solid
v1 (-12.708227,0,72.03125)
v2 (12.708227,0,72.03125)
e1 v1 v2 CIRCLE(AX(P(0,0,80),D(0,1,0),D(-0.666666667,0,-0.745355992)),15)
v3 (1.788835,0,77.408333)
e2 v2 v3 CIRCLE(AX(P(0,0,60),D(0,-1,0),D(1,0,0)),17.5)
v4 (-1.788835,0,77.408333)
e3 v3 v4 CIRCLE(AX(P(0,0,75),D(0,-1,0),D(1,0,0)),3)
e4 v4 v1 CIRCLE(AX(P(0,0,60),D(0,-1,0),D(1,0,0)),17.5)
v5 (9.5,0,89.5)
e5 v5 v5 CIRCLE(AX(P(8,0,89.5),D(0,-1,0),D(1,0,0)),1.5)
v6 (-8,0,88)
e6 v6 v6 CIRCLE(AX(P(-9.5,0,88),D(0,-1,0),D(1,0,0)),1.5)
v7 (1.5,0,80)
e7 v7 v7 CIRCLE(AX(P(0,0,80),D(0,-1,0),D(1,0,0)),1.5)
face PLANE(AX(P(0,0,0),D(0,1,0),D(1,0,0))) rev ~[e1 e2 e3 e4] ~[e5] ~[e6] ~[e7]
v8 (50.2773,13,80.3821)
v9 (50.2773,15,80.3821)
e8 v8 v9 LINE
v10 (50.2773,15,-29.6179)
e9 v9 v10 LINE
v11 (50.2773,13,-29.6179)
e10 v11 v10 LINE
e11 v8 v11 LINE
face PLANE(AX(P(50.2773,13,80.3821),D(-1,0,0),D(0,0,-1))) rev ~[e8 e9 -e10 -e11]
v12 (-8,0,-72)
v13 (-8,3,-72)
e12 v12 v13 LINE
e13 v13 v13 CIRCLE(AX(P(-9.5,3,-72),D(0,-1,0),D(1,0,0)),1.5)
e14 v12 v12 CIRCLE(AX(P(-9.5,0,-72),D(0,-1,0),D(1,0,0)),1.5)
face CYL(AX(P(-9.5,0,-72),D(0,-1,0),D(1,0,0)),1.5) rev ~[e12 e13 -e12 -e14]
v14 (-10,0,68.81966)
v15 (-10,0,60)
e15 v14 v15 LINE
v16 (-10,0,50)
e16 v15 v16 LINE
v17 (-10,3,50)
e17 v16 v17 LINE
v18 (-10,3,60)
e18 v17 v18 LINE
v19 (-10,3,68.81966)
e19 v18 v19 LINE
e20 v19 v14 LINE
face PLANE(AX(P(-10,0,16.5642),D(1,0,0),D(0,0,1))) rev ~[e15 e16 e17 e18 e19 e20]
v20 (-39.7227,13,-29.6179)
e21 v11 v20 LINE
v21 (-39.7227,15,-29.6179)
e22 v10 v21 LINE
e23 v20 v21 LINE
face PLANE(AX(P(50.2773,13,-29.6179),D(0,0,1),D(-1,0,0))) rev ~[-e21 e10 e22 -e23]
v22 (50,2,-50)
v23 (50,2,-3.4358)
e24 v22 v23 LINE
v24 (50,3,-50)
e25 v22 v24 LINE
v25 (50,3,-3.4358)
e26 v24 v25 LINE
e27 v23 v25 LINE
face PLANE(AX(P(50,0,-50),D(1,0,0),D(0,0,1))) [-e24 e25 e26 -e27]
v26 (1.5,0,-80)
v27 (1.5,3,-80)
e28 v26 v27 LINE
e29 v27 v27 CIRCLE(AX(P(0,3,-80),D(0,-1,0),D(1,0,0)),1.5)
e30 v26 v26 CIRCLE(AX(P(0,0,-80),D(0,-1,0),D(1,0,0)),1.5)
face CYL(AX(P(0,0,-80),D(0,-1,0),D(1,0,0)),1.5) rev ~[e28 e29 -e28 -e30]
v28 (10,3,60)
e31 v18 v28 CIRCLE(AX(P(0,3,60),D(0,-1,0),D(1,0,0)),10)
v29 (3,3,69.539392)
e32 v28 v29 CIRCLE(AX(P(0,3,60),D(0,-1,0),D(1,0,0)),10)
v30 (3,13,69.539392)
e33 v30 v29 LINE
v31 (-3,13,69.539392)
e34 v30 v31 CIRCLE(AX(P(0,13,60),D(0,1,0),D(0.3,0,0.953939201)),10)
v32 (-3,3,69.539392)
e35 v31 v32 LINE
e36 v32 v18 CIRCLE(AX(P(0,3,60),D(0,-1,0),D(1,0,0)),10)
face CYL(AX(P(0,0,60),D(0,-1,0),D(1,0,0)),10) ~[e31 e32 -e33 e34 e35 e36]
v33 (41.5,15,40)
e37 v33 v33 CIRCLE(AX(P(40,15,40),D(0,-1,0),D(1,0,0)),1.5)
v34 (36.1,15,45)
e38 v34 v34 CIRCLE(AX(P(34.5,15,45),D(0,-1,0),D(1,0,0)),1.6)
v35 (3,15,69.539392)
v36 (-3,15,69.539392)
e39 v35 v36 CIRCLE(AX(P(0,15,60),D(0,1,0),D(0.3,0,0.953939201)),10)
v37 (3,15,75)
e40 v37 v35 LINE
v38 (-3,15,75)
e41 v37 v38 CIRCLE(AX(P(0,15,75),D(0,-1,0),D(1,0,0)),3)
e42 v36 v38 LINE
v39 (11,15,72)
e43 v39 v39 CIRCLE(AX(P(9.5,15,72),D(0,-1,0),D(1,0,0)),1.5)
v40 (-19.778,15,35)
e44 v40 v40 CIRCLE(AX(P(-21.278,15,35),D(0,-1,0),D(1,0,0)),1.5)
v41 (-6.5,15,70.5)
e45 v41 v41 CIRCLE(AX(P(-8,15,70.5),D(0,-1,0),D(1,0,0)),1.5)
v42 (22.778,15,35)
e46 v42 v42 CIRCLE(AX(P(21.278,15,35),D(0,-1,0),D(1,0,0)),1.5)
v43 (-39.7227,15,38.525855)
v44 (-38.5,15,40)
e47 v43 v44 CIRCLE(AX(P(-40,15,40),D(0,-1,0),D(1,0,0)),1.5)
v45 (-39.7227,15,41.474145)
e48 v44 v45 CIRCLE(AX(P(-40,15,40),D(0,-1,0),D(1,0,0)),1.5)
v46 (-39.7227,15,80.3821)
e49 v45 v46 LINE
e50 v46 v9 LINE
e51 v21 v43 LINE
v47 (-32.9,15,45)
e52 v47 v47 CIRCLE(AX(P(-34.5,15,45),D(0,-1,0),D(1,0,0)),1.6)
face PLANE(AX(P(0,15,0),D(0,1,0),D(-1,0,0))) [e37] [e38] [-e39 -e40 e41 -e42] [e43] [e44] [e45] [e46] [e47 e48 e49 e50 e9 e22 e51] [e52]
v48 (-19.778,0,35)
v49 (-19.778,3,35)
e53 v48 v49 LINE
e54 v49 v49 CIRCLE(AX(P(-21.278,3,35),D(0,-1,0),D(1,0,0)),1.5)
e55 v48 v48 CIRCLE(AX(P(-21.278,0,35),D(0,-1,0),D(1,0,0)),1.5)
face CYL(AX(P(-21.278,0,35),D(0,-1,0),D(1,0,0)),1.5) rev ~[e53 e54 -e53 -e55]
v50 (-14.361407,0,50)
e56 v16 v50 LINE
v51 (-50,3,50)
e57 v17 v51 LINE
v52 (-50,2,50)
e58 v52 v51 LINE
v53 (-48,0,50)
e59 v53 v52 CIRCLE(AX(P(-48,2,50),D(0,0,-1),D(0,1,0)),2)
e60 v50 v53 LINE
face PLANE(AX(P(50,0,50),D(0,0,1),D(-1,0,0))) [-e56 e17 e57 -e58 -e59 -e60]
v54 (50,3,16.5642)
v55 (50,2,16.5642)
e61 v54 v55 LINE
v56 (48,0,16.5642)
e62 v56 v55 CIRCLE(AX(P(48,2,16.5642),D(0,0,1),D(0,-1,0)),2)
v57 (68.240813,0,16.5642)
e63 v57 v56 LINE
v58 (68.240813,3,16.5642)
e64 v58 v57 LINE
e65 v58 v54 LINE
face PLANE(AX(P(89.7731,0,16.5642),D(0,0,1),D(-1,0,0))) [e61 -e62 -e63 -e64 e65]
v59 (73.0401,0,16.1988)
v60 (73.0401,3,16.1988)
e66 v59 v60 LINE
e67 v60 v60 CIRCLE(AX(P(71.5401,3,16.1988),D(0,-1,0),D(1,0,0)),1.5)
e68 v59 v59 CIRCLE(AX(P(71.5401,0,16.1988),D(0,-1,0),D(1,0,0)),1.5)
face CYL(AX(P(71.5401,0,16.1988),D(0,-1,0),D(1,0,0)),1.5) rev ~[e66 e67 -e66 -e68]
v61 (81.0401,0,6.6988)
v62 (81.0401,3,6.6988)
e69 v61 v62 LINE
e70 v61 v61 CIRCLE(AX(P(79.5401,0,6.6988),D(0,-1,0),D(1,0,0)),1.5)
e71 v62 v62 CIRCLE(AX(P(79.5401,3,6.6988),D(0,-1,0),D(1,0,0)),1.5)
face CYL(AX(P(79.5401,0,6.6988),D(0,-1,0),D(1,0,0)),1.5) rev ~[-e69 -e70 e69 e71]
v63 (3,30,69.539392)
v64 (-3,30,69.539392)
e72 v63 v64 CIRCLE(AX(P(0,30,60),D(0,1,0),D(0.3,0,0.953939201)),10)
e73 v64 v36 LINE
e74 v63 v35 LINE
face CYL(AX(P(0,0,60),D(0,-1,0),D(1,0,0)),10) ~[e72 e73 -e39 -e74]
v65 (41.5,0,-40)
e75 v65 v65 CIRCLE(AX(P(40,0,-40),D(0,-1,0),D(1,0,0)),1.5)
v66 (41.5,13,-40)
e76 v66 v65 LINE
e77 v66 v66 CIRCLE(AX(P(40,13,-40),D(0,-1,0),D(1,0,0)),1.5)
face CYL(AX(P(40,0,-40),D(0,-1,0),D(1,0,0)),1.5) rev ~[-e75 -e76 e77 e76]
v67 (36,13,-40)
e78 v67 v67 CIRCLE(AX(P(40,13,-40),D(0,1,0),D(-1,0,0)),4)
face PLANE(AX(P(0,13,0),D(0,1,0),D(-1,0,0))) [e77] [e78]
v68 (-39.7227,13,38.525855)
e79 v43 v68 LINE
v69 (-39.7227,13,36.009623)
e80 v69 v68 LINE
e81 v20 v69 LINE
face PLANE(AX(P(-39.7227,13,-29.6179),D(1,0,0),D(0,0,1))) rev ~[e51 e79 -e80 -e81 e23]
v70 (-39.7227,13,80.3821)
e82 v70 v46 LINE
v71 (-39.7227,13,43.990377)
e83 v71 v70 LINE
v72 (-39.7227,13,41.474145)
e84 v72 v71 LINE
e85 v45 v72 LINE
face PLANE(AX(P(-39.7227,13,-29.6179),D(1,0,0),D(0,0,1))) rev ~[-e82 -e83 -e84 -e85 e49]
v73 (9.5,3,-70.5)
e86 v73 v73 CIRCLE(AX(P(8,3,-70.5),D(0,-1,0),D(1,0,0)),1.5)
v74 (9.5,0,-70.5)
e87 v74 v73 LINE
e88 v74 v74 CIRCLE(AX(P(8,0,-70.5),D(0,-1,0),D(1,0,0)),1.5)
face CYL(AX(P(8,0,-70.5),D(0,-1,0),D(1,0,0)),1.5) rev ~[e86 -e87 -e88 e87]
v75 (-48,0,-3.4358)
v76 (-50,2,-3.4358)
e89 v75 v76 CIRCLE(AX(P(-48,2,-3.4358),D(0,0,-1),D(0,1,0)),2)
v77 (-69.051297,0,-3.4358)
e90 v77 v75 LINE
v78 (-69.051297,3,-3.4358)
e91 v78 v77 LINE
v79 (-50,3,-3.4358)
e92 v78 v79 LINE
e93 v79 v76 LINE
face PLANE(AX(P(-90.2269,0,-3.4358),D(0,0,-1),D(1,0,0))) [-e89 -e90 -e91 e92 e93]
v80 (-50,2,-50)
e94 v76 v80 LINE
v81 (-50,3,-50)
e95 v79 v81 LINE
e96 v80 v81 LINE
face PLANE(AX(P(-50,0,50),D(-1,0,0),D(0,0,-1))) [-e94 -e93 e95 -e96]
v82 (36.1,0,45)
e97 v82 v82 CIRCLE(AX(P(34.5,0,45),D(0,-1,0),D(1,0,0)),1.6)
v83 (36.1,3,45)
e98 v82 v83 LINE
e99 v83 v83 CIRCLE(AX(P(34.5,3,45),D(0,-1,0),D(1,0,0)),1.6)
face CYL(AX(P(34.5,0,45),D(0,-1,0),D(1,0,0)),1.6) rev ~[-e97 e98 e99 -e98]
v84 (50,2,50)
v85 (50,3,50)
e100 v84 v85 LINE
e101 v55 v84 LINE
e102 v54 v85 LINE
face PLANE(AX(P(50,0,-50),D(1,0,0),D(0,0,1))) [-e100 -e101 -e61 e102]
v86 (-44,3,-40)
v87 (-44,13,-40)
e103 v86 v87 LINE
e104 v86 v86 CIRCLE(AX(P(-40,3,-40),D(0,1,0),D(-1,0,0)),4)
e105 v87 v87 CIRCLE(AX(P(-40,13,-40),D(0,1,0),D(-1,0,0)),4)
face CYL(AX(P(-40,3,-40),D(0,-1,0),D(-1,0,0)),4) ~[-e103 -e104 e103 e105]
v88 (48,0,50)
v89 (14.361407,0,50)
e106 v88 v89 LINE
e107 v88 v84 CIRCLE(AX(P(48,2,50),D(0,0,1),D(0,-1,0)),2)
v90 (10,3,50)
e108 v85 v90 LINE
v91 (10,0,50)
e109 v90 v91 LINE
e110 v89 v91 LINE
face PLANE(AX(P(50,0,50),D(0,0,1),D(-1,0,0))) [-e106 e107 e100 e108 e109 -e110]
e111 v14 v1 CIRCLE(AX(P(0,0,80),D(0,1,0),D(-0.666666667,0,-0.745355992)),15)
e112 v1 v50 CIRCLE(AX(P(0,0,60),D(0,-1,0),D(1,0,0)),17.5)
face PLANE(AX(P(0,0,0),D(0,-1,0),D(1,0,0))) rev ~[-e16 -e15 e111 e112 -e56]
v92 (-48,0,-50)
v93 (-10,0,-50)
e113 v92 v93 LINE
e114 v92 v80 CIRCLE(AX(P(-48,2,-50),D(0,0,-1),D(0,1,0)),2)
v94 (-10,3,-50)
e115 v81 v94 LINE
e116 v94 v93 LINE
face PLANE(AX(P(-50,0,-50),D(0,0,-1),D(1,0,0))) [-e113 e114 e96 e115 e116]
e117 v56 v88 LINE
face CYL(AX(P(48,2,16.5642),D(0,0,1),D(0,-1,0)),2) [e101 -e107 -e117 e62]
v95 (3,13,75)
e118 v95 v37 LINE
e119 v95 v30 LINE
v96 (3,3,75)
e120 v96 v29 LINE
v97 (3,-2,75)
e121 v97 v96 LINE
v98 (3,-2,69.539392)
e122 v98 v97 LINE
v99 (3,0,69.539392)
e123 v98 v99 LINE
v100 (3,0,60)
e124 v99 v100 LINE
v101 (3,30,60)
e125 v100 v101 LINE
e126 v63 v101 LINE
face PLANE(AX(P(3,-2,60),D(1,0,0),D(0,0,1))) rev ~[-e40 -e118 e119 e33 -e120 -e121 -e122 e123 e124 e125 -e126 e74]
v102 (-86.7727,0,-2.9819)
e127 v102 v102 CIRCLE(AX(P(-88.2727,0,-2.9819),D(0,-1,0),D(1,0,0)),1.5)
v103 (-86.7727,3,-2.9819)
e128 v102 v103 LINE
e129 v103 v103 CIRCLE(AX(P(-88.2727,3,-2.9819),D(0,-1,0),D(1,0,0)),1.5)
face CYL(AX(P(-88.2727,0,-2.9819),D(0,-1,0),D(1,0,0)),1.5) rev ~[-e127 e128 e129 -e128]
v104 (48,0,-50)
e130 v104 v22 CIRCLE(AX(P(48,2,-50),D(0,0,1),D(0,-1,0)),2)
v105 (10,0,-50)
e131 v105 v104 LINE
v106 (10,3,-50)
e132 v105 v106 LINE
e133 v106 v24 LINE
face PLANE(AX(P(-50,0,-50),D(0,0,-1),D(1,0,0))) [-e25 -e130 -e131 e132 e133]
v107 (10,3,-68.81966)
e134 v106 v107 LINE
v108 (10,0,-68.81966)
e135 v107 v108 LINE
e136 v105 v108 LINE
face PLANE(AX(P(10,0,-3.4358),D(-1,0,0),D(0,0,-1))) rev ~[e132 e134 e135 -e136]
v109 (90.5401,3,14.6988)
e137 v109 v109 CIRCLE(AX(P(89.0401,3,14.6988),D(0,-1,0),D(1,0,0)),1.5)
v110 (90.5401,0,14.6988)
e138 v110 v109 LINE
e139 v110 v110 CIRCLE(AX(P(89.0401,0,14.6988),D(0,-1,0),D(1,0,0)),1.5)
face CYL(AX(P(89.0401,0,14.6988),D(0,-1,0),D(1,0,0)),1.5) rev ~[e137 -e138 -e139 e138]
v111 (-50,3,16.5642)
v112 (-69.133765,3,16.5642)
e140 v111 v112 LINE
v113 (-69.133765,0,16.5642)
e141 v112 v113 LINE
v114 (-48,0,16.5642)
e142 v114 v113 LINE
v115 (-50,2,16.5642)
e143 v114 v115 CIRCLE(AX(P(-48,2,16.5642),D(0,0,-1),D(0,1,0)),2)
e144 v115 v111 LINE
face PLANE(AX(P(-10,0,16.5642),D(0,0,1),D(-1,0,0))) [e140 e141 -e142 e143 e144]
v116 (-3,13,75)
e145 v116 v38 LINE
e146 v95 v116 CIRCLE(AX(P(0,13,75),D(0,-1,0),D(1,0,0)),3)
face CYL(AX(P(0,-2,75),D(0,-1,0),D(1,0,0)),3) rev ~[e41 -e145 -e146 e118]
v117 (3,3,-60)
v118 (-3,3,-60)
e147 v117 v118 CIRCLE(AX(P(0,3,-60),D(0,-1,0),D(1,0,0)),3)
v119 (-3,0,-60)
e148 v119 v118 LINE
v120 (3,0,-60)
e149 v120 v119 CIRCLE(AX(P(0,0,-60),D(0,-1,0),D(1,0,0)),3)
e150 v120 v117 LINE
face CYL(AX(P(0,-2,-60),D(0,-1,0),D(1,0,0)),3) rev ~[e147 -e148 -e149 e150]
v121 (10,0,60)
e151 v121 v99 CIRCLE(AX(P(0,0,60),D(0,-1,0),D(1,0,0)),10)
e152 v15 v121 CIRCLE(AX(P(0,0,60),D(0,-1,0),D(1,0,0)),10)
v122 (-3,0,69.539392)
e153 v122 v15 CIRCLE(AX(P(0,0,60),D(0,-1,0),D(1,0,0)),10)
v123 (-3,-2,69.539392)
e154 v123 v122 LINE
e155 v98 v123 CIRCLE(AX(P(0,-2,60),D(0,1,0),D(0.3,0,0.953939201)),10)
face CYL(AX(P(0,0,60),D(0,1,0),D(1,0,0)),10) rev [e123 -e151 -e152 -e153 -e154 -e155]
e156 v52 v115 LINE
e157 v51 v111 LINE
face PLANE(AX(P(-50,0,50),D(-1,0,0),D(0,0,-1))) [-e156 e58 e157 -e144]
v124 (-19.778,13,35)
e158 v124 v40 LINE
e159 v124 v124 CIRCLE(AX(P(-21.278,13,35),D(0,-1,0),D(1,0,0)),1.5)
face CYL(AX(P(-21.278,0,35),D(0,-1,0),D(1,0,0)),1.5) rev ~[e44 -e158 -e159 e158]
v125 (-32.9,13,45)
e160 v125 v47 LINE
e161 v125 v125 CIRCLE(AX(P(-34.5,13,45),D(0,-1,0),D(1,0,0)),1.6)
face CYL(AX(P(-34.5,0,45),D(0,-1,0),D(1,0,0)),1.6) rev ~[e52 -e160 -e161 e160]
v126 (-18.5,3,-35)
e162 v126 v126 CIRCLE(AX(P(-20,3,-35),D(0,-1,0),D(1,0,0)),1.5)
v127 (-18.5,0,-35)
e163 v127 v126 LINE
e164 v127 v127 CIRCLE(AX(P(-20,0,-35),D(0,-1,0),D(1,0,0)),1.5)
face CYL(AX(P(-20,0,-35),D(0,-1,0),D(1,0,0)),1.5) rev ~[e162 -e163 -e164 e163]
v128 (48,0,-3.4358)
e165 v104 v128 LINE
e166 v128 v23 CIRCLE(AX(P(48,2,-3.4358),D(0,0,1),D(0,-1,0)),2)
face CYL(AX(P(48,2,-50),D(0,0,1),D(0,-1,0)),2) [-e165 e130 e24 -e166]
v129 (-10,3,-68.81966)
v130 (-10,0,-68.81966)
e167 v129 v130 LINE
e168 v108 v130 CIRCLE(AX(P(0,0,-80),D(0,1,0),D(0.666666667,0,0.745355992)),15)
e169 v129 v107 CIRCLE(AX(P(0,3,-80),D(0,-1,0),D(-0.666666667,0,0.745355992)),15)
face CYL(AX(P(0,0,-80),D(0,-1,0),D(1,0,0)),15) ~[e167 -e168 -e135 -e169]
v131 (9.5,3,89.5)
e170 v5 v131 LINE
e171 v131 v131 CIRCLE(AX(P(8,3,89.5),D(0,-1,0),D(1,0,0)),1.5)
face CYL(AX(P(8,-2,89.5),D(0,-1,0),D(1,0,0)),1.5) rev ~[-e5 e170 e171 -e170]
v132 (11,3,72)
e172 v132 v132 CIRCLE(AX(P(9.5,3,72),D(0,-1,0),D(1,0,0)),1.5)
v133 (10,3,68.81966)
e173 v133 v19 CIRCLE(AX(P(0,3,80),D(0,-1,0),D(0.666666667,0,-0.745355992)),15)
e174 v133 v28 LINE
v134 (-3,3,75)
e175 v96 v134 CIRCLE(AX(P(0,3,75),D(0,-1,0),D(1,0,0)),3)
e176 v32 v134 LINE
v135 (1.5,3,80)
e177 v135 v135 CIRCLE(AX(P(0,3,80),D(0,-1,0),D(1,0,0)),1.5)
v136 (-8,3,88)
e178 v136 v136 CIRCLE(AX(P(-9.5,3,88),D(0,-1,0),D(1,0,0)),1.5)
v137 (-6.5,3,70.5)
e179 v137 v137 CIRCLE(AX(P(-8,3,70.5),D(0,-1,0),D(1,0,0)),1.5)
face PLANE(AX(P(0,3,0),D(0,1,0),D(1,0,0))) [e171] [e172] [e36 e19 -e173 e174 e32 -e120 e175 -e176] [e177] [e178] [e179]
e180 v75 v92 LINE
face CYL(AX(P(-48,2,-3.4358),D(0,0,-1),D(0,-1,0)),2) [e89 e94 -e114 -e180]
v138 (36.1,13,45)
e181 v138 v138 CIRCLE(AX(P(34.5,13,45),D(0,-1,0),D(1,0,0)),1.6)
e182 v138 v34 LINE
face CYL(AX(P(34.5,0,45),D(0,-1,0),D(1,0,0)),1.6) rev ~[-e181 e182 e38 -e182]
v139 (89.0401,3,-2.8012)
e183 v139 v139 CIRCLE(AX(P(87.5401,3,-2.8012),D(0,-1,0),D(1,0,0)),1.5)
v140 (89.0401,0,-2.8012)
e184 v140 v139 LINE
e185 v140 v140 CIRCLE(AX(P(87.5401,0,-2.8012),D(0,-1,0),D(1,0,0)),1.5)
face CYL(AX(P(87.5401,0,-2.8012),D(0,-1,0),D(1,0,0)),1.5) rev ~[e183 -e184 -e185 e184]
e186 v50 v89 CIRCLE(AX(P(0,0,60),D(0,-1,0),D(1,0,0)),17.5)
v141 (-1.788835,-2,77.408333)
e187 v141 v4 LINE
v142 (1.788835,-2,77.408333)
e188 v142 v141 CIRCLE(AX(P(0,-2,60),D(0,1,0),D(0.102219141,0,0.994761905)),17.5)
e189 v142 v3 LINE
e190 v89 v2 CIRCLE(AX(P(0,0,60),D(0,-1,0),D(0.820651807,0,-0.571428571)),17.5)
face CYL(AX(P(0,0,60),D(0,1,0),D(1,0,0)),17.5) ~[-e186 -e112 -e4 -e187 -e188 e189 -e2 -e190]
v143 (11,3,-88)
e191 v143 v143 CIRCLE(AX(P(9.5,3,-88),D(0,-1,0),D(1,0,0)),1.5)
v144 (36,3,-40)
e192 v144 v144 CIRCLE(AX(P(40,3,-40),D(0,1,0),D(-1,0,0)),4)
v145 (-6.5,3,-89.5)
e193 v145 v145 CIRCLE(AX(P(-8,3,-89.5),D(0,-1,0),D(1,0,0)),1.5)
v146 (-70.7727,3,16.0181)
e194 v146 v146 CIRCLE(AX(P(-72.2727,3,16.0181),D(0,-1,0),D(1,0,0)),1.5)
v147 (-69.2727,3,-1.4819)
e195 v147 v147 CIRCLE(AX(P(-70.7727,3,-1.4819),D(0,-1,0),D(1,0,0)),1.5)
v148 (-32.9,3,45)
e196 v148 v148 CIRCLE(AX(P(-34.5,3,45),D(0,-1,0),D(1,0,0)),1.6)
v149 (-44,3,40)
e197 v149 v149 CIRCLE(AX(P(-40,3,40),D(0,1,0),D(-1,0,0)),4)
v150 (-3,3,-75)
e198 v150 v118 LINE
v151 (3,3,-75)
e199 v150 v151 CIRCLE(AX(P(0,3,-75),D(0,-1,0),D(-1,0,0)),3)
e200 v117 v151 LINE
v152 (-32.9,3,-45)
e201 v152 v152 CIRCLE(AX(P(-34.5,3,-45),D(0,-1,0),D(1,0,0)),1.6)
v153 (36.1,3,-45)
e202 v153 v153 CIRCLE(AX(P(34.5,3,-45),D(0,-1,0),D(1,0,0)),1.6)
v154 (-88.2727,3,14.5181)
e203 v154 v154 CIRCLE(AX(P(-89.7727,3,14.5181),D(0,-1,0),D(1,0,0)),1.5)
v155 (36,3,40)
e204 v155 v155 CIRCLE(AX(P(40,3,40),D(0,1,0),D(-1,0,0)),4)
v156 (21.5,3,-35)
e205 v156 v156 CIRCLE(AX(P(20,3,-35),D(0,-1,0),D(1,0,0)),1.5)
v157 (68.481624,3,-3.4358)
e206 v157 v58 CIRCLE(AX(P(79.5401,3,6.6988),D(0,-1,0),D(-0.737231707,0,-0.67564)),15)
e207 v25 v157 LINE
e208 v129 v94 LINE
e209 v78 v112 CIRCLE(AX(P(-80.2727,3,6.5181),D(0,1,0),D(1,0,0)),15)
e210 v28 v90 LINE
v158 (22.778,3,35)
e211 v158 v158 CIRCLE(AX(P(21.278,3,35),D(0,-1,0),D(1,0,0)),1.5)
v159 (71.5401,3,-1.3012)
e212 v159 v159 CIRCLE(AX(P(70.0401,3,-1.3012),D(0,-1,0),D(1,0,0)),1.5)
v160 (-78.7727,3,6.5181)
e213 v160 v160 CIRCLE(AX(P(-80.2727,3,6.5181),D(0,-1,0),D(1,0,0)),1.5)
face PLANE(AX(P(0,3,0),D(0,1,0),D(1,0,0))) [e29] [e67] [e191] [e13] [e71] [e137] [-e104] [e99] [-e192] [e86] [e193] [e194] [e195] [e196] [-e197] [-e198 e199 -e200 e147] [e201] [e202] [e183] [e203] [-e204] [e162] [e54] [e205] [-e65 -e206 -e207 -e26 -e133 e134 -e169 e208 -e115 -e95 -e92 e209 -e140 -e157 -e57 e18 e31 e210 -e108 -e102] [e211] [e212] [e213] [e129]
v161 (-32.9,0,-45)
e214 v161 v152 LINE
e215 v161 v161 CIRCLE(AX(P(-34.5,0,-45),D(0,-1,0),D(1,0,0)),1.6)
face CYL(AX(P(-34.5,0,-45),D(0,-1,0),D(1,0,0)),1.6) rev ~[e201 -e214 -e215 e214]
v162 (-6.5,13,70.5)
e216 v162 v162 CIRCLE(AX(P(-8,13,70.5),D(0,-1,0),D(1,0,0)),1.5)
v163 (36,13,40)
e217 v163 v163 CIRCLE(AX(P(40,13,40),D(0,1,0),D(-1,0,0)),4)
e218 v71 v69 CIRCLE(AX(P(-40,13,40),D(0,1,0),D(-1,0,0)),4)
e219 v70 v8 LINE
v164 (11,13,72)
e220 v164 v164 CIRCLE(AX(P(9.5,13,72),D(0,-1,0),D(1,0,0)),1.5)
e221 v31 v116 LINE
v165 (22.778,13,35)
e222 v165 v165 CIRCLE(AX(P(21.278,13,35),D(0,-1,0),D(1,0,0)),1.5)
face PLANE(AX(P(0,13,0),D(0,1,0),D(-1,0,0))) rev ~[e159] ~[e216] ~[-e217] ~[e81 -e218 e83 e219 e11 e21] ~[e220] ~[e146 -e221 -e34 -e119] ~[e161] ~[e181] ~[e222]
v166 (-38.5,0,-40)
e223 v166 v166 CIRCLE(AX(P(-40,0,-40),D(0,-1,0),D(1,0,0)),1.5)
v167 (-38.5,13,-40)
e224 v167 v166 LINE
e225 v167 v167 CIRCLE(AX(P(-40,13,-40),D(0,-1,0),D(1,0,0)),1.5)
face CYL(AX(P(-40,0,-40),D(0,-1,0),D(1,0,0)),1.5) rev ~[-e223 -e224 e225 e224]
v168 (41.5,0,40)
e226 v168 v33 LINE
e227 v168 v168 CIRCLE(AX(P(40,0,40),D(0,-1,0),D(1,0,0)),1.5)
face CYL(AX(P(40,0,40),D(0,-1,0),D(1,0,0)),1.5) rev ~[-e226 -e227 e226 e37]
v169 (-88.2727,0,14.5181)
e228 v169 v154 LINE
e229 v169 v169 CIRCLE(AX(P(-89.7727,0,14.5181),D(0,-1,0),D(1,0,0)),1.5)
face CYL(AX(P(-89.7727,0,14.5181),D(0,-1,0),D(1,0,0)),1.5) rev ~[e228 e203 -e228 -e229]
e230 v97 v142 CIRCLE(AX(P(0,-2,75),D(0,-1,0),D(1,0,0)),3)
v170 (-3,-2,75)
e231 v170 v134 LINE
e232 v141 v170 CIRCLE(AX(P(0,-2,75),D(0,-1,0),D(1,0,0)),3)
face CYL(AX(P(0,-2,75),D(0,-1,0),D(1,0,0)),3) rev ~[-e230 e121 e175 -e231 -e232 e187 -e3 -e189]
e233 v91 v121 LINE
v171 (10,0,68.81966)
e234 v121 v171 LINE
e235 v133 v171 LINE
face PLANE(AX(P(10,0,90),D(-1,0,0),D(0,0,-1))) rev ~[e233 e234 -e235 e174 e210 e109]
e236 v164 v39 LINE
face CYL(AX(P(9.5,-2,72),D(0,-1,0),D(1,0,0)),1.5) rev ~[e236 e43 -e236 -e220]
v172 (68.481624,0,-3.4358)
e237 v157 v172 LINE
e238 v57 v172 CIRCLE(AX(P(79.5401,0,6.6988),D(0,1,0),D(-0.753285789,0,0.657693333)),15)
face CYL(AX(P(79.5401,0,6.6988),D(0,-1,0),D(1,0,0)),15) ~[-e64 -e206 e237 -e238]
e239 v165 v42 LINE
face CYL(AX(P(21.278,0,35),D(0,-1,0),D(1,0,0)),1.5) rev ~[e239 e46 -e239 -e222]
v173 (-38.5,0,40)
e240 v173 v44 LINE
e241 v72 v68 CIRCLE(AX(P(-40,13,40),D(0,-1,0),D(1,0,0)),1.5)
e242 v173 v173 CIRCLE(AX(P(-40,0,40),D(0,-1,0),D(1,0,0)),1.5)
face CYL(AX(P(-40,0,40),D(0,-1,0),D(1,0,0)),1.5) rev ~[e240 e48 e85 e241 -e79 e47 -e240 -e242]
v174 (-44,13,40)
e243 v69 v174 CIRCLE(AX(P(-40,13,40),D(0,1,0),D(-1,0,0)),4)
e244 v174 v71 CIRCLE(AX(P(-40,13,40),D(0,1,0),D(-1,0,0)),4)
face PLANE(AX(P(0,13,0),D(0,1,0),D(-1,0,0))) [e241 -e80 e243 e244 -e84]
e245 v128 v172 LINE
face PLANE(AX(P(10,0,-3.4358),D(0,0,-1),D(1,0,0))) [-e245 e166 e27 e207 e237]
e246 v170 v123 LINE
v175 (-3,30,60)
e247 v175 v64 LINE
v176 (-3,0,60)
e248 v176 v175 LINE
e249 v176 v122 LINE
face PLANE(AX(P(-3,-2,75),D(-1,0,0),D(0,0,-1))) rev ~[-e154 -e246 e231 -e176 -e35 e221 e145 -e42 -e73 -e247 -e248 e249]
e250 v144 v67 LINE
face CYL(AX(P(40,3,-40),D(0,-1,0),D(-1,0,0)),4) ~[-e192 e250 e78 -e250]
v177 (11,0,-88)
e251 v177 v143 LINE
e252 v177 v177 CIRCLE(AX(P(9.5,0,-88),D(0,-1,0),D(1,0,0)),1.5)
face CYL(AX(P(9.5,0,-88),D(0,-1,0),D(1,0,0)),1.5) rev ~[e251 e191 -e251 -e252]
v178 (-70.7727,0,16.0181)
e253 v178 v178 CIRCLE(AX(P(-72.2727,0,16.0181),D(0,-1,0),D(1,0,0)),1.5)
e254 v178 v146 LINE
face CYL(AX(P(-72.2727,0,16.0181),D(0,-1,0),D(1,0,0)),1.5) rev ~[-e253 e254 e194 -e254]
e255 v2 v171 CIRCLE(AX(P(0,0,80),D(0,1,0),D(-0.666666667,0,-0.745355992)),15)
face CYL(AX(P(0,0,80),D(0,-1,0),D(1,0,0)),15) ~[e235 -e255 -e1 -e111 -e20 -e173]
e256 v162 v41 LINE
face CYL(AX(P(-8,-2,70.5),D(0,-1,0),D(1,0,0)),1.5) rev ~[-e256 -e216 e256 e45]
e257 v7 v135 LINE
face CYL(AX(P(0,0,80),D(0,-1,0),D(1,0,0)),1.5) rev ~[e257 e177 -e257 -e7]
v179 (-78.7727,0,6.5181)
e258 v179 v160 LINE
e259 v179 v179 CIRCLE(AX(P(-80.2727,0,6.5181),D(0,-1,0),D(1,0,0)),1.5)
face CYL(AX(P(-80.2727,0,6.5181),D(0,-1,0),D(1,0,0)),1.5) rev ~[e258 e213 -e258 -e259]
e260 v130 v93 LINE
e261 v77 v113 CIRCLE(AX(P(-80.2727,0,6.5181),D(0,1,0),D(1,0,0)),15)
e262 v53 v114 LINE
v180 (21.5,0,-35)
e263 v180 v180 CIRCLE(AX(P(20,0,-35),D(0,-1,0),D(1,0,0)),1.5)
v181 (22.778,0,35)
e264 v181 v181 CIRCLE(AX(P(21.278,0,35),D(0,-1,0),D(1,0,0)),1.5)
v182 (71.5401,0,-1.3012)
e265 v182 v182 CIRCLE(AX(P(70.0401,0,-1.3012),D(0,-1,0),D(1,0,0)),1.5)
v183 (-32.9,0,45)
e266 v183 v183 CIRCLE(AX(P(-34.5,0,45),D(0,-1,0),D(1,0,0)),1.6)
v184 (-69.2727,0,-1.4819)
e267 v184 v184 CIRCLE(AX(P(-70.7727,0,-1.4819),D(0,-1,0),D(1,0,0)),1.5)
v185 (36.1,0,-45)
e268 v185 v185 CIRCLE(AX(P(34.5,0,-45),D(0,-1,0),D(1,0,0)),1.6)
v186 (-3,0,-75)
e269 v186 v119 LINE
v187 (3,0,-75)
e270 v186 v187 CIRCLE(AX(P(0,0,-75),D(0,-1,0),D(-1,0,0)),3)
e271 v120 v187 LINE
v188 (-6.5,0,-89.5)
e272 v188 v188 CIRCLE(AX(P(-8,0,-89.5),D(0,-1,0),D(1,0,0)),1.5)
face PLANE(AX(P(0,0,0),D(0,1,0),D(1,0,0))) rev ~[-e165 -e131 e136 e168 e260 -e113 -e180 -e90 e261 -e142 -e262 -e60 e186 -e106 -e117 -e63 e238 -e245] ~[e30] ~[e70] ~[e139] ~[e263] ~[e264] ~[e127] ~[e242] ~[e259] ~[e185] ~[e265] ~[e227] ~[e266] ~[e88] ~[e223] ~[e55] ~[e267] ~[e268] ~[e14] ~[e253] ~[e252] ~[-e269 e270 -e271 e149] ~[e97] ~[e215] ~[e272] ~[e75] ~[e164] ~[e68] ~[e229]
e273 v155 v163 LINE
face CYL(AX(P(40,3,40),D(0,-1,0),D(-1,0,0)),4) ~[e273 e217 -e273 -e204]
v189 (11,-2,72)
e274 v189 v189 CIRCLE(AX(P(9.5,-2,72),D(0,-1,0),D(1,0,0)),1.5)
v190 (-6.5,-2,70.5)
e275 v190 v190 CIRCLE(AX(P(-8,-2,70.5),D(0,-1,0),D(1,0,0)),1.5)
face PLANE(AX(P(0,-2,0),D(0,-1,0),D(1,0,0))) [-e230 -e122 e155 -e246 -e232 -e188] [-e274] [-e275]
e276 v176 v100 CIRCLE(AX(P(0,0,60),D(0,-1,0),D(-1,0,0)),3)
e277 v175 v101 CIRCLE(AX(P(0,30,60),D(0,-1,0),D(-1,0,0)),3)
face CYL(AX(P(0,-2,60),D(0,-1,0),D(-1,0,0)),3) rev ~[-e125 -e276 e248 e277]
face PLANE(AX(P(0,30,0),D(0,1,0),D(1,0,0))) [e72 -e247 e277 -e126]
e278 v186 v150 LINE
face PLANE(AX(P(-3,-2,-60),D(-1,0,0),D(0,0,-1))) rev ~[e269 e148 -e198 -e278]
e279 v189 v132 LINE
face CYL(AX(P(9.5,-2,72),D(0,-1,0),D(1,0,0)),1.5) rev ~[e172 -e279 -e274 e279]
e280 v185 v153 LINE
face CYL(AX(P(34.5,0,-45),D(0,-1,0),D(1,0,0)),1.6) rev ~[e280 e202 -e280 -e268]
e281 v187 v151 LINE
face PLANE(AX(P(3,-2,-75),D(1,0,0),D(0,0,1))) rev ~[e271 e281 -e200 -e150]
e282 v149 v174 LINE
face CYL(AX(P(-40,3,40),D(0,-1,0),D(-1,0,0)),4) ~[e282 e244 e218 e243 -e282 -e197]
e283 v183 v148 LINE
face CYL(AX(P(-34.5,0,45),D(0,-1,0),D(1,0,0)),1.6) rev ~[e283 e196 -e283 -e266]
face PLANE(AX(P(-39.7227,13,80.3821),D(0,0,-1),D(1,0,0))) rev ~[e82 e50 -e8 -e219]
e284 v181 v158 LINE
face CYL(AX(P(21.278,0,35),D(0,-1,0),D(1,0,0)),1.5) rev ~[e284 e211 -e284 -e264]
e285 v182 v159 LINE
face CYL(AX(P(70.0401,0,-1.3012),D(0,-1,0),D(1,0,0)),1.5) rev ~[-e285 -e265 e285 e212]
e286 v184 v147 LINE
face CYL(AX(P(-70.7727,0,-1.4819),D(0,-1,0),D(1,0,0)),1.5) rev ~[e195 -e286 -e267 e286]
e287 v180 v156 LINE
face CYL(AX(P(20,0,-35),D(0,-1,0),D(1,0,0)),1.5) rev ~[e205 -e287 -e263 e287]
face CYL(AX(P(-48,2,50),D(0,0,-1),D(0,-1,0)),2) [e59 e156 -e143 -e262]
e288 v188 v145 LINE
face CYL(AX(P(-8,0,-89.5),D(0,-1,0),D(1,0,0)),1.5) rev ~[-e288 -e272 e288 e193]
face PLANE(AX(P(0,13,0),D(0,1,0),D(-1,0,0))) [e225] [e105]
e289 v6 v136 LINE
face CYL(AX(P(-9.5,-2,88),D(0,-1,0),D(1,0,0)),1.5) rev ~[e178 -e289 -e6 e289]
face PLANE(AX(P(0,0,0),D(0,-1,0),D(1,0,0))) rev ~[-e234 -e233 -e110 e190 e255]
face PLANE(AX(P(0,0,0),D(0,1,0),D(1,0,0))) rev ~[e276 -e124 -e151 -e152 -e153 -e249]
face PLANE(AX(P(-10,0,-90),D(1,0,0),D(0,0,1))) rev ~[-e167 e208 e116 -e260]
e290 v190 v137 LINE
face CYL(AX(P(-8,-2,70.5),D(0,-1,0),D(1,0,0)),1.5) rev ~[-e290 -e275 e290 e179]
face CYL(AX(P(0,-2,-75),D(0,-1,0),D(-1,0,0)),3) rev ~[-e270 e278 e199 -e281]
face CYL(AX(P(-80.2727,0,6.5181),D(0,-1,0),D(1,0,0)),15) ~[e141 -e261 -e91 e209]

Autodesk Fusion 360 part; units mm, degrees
sketch "Sketch1" plane through (0, 0, 0) normal (0, 1, 0) x (1, 0, 0)
  line L0 (50, -50) -> (-50, -50)
  line L1 (-50, -50) -> (-50, 50)
  line L2 (-50, 50) -> (50, 50)
  line L3 (50, 50) -> (50, -50)
  line L4 (50, -50) -> (-50, 50) construction
  line L5 (-50, -50) -> (50, 50) construction
  dimension "d1" = 100
  dimension "d2" = 100
extrude "Extrude1" add sketch "Sketch1" along normal blind 3
sketch "Sketch2" plane through (0, 0, 0) normal (0, 1, 0) x (1, 0, 0)
  line L0 (89.7731, -16.5642) -> (-90.2269, -16.5642)
  line L1 (-90.2269, -16.5642) -> (-90.2269, 3.4358)
  line L2 (-90.2269, 3.4358) -> (89.7731, 3.4358)
  line L3 (89.7731, 3.4358) -> (89.7731, -16.5642)
  line L4 (89.7731, -16.5642) -> (-90.2269, 3.4358) construction
  line L5 (-90.2269, -16.5642) -> (89.7731, 3.4358) construction
  line L6 (-10, -90) -> (10, -90)
  line L7 (10, -90) -> (10, 90)
  line L8 (10, 90) -> (-10, 90)
  line L9 (-10, 90) -> (-10, -90)
  line L10 (-10, -90) -> (10, 90) construction
  line L11 (10, -90) -> (-10, 90) construction
  point P0 (-0.2269, -6.5642)
  dimension "d9" = 180
  dimension "d10" = 20
  dimension "d11" = 20
  dimension "d12" = 180
extrude "Extrude2" add sketch "Sketch2" along normal blind 3
sketch "Sketch3" plane through (0, 0, 0) normal (0, -1, 0) x (1, 0, 0)
  line L0 (-10, 50) -> (-50, 50)
  line L1 (-50, 50) -> (-50, 16.5642)
  line L2 (-50, 16.5642) -> (-90.2269, 16.5642)
  line L3 (-90.2269, 16.5642) -> (-90.2269, -3.4358)
  line L4 (-90.2269, -3.4358) -> (-50, -3.4358)
  line L5 (-50, -3.4358) -> (-50, -50)
  line L6 (-50, -50) -> (-10, -50)
  line L7 (-10, -50) -> (-10, -90)
  line L8 (-10, -90) -> (10, -90)
  line L9 (10, -90) -> (10, -50)
  line L10 (10, -50) -> (50, -50)
  line L11 (50, -50) -> (50, -3.4358)
  line L12 (50, -3.4358) -> (89.7731, -3.4358)
  line L13 (89.7731, -3.4358) -> (89.7731, 16.5642)
  line L14 (89.7731, 16.5642) -> (50, 16.5642)
  line L15 (50, 16.5642) -> (50, 50)
  line L16 (50, 50) -> (10, 50)
  line L17 (10, 50) -> (10, 90)
  line L18 (10, 90) -> (-10, 90)
  line L19 (-10, 90) -> (-10, 50)
  circle A0 centre (79.7731, 6.5642) radius 1.5
  circle A1 centre (-80.2269, 6.5642) radius 1.5
  circle A2 centre (0, 80) radius 1.5
  circle A3 centre (0, -80) radius 1.5
  dimension "d15" = 3
  dimension "d16" = 10
  dimension "d17" = 10
  dimension "d18" = 3
  dimension "d19" = 10
  dimension "d20" = 10
  dimension "d21" = 3
  dimension "d22" = 10
  dimension "d23" = 10
  dimension "d24" = 3
  dimension "d25" = 10
  dimension "d26" = 10
extrude "Extrude3" cut sketch "Sketch3" against normal through all contours A0 | A1 | A2 | A3
sketch "Sketch4" plane through (0, 0, 0) normal (0, 1, 0) x (1, 0, 0)
  circle A0 centre (79.5401, -6.6988) radius 15
  dimension "d28" = 30
sketch "Sketch5" plane through (0, 0, 0) normal (0, 1, 0) x (1, 0, 0)
extrude "Extrude4" add sketch "Sketch4" along normal blind 3
sketch "Sketch6" plane through (0, 0, 0) normal (0, 1, 0) x (1, 0, 0)
  circle A0 centre (0, -80) radius 15
  dimension "d31" = 30
extrude "Extrude5" add sketch "Sketch6" along normal blind 3
sketch "Sketch7" plane through (0, 0, 0) normal (0, 1, 0) x (1, 0, 0)
  circle A0 centre (-80.2727, -6.5181) radius 15
  dimension "d34" = 30
extrude "Extrude6" add sketch "Sketch7" along normal blind 3
sketch "Sketch8" plane through (0, 0, 0) normal (0, 1, 0) x (1, 0, 0)
  circle A0 centre (0, 80) radius 15
  dimension "d37" = 30
extrude "Extrude7" add sketch "Sketch8" along normal blind 3
sketch "Sketch9" plane through (0, 0, 0) normal (0, -1, 0) x (1, 0, 0)
  arc A0 (-10, -68.8197) -> (10, -68.8197) centre (0, -80) ccw
  line L0 (10, -68.8197) -> (10, -50)
  line L1 (10, -50) -> (50, -50)
  line L2 (50, -50) -> (50, -3.4358)
  line L3 (50, -3.4358) -> (68.4816, -3.4358)
  arc A1 (68.4816, -3.4358) -> (68.2409, 16.5642) centre (79.5401, 6.6988) ccw
  line L4 (68.2409, 16.5642) -> (50, 16.5642)
  line L5 (50, 16.5642) -> (50, 50)
  line L6 (50, 50) -> (10, 50)
  line L7 (10, 50) -> (10, 68.8197)
  arc A2 (10, 68.8197) -> (-10, 68.8197) centre (0, 80) ccw
  line L8 (-10, 68.8197) -> (-10, 50)
  line L9 (-10, 50) -> (-50, 50)
  line L10 (-50, 50) -> (-50, 16.5642)
  line L11 (-50, 16.5642) -> (-69.1338, 16.5642)
  arc A3 (-69.1338, 16.5642) -> (-69.0513, -3.4358) centre (-80.2727, 6.5181) ccw
  line L12 (-69.0513, -3.4358) -> (-50, -3.4358)
  line L13 (-50, -3.4358) -> (-50, -50)
  line L14 (-50, -50) -> (-10, -50)
  line L15 (-10, -50) -> (-10, -68.8197)
  circle A4 centre (79.5401, 6.6988) radius 1.5
  circle A5 centre (-80.2727, 6.5181) radius 1.5
  circle A6 centre (0, -80) radius 1.5
  circle A7 centre (0, 80) radius 1.5
  dimension "d40" = 3
  dimension "d41" = 3
  dimension "d42" = 3
  dimension "d43" = 3
extrude "Extrude8" cut sketch "Sketch9" against normal through all contours A4 | A5 | A6 | A7
sketch "Sketch10" plane through (0, 0, 50) normal (0, 0, 1) x (-1, 0, 0)
  line L0 (-10, -3) -> (-10, 0)
  line L1 (-10, 0) -> (-50, 0)
  line L2 (-50, 0) -> (-50, -3)
  line L3 (-50, -3) -> (-10, -3)
sketch "Sketch11" plane through (0, 0, 0) normal (0, -1, 0) x (1, 0, 0)
  circle A0 centre (-80.2727, 6.5181) radius 1.5
  circle A1 centre (79.5401, 6.6988) radius 1.5
  circle A2 centre (0, 80) radius 1.5
  circle A3 centre (0, -80) radius 1.5
  arc A4 (-10, -68.8197) -> (10, -68.8197) centre (0, -80) ccw
  line L0 (10, -68.8197) -> (10, -50)
  line L1 (10, -50) -> (50, -50)
  line L2 (50, -50) -> (50, -3.4358)
  line L3 (50, -3.4358) -> (68.4816, -3.4358)
  arc A5 (68.4816, -3.4358) -> (68.2409, 16.5642) centre (79.5401, 6.6988) ccw
  line L4 (68.2409, 16.5642) -> (50, 16.5642)
  line L5 (50, 16.5642) -> (50, 50)
  line L6 (50, 50) -> (10, 50)
  line L7 (10, 50) -> (10, 68.8197)
  arc A6 (10, 68.8197) -> (-10, 68.8197) centre (0, 80) ccw
  line L8 (-10, 68.8197) -> (-10, 50)
  line L9 (-10, 50) -> (-50, 50)
  line L10 (-50, 50) -> (-50, 16.5642)
  line L11 (-50, 16.5642) -> (-69.1338, 16.5642)
  arc A7 (-69.1338, 16.5642) -> (-69.0513, -3.4358) centre (-80.2727, 6.5181) ccw
  line L12 (-69.0513, -3.4358) -> (-50, -3.4358)
  line L13 (-50, -3.4358) -> (-50, -50)
  line L14 (-50, -50) -> (-10, -50)
  line L15 (-10, -50) -> (-10, -68.8197)
  circle A8 centre (40, 40) radius 1.5
  circle A9 centre (-40, 40) radius 1.5
  circle A10 centre (40, -40) radius 1.5
  circle A11 centre (-40, -40) radius 1.5
  dimension "d45" = 3
  dimension "d46" = 10
  dimension "d47" = 10
  dimension "d48" = 3
  dimension "d49" = 10
  dimension "d50" = 10
  dimension "d51" = 3
  dimension "d52" = 10
  dimension "d53" = 10
  dimension "d54" = 3
  dimension "d55" = 10
extrude "Extrude9" cut sketch "Sketch11" against normal through all contours A8 | A9 | A10 | A11
sketch "Sketch12" plane through (0, 3, 0) normal (0, 1, 0) x (-1, 0, 0)
  line L0 (10, -68.8197) -> (10, -50)
  line L1 (10, -50) -> (50, -50)
  line L2 (50, -50) -> (50, -3.4358)
  line L3 (50, -3.4358) -> (69.0513, -3.4358)
  arc A0 (69.0513, -3.4358) -> (69.1338, 16.5642) centre (80.2727, 6.5181) ccw
  line L4 (69.1338, 16.5642) -> (50, 16.5642)
  line L5 (50, 16.5642) -> (50, 50)
  line L6 (50, 50) -> (10, 50)
  line L7 (10, 50) -> (10, 68.8197)
  arc A1 (10, 68.8197) -> (-10, 68.8197) centre (0, 80) ccw
  line L8 (-10, 68.8197) -> (-10, 50)
  line L9 (-10, 50) -> (-50, 50)
  line L10 (-50, 50) -> (-50, 16.5642)
  line L11 (-50, 16.5642) -> (-68.2409, 16.5642)
  arc A2 (-68.2409, 16.5642) -> (-68.4816, -3.4358) centre (-79.5401, 6.6988) ccw
  line L12 (-68.4816, -3.4358) -> (-50, -3.4358)
  line L13 (-50, -3.4358) -> (-50, -50)
  line L14 (-50, -50) -> (-10, -50)
  line L15 (-10, -50) -> (-10, -68.8197)
  arc A3 (-10, -68.8197) -> (10, -68.8197) centre (0, -80) ccw
  circle A4 centre (0, -80) radius 1.5
  circle A5 centre (0, 80) radius 1.5
  circle A6 centre (-79.5401, 6.6988) radius 1.5
  circle A7 centre (80.2727, 6.5181) radius 1.5
  circle A8 centre (40, -40) radius 1.5
  circle A9 centre (40, 40) radius 1.5
  circle A10 centre (-40, -40) radius 1.5
  circle A11 centre (-40, 40) radius 1.5
  line L16 (-22, -42) -> (22, -42)
  line L17 (22, -42) -> (22, 42)
  line L18 (22, 42) -> (-22, 42)
  line L19 (-22, 42) -> (-22, -42)
  line L20 (-22, -42) -> (22, 42) construction
  line L21 (22, -42) -> (-22, 42) construction
  dimension "d57" = 44
  dimension "d58" = 84
sketch "Sketch13" plane through (0, 3, 0) normal (0, 1, 0) x (-1, 0, 0)
  line L0 (-39.5, -50) -> (39.5, -50)
  line L1 (39.5, -50) -> (39.5, 50)
  line L2 (39.5, 50) -> (-39.5, 50)
  line L3 (-39.5, 50) -> (-39.5, -50)
  line L4 (-39.5, -50) -> (39.5, 50) construction
  line L5 (39.5, -50) -> (-39.5, 50) construction
  dimension "d59" = 100
  dimension "d60" = 79
sketch "Sketch14" plane through (0, 3, 0) normal (0, 1, 0) x (-1, 0, 0)
sketch "Sketch15" plane through (0, 3, 0) normal (0, 1, 0) x (-1, 0, 0)
  circle A0 centre (40, -40) radius 4
  circle A1 centre (-40, -40) radius 4
  circle A2 centre (-40, 40) radius 4
  circle A3 centre (40, 40) radius 4
  dimension "d61" = 8
  dimension "d62" = 8
  dimension "d63" = 8
  dimension "d64" = 8
extrude "Extrude10" add sketch "Sketch15" along normal blind 10
sketch "Sketch16" plane through (0, 3, 0) normal (0, 1, 0) x (-1, 0, 0)
  circle A0 centre (-40, -40) radius 1.5
  circle A1 centre (40, -40) radius 1.5
  circle A2 centre (40, 40) radius 1.5
  circle A3 centre (-40, 40) radius 1.5
  dimension "d67" = 3
  dimension "d68" = 3
  dimension "d69" = 3
  dimension "d70" = 3
sketch "Sketch17" plane through (0, 13, 0) normal (0, 1, 0) x (-1, 0, 0)
  circle A0 centre (-40, -40) radius 4
  line L0 (-50.2773, -29.6179) -> (39.7227, -29.6179)
  line L1 (39.7227, -29.6179) -> (39.7227, 80.3821)
  line L2 (39.7227, 80.3821) -> (-50.2773, 80.3821)
  line L3 (-50.2773, 80.3821) -> (-50.2773, -29.6179)
  line L4 (-50.2773, -29.6179) -> (39.7227, 80.3821) construction
  line L5 (39.7227, -29.6179) -> (-50.2773, 80.3821) construction
  point P0 (-5.2773, 25.3821)
  dimension "d71" = 90
  dimension "d72" = 110
extrude "Extrude11" add sketch "Sketch17" along normal blind 2 contours L0 L1 L2 L3
sketch "Sketch18" plane through (0, 0, 0) normal (0, -1, 0) x (1, 0, 0)
  arc A0 (-10, -68.8197) -> (10, -68.8197) centre (0, -80) ccw
  line L0 (10, -68.8197) -> (10, -50)
  line L1 (10, -50) -> (50, -50)
  line L2 (50, -50) -> (50, -3.4358)
  line L3 (50, -3.4358) -> (68.4816, -3.4358)
  arc A1 (68.4816, -3.4358) -> (68.2409, 16.5642) centre (79.5401, 6.6988) ccw
  line L4 (68.2409, 16.5642) -> (50, 16.5642)
  line L5 (50, 16.5642) -> (50, 50)
  line L6 (50, 50) -> (10, 50)
  line L7 (10, 50) -> (10, 68.8197)
  arc A2 (10, 68.8197) -> (-10, 68.8197) centre (0, 80) ccw
  line L8 (-10, 68.8197) -> (-10, 50)
  line L9 (-10, 50) -> (-50, 50)
  line L10 (-50, 50) -> (-50, 16.5642)
  line L11 (-50, 16.5642) -> (-69.1338, 16.5642)
  arc A3 (-69.1338, 16.5642) -> (-69.0513, -3.4358) centre (-80.2727, 6.5181) ccw
  line L12 (-69.0513, -3.4358) -> (-50, -3.4358)
  line L13 (-50, -3.4358) -> (-50, -50)
  line L14 (-50, -50) -> (-10, -50)
  line L15 (-10, -50) -> (-10, -68.8197)
  circle A4 centre (0, -80) radius 1.5
  circle A5 centre (0, 80) radius 1.5
  circle A6 centre (79.5401, 6.6988) radius 1.5
  circle A7 centre (-80.2727, 6.5181) radius 1.5
  circle A8 centre (-40, -40) radius 1.5
  circle A9 centre (-40, 40) radius 1.5
  circle A10 centre (40, -40) radius 1.5
  circle A11 centre (40, 40) radius 1.5
  line L16 (-22, -42.4) -> (22, -42.4)
  line L17 (22, -42.4) -> (22, 42.4)
  line L18 (22, 42.4) -> (-22, 42.4)
  line L19 (-22, 42.4) -> (-22, -42.4)
  line L20 (-22, -42.4) -> (22, 42.4) construction
  line L21 (22, -42.4) -> (-22, 42.4) construction
  dimension "d75" = 44
  dimension "d76" = 84.8
sketch "Sketch19" plane through (0, 0, 0) normal (0, -1, 0) x (1, 0, 0)
extrude "Extrude12" cut sketch "Sketch18" against normal through all contours A8 | A9 | A10 | A11
sketch "Sketch20" plane through (0, 0, 0) normal (0, -1, 0) x (1, 0, 0)
  arc A0 (-10, -68.8197) -> (10, -68.8197) centre (0, -80) ccw
  line L0 (10, -68.8197) -> (10, -50)
  line L1 (10, -50) -> (50, -50)
  line L2 (50, -50) -> (50, -3.4358)
  line L3 (50, -3.4358) -> (68.4816, -3.4358)
  arc A1 (68.4816, -3.4358) -> (68.2409, 16.5642) centre (79.5401, 6.6988) ccw
  line L4 (68.2409, 16.5642) -> (50, 16.5642)
  line L5 (50, 16.5642) -> (50, 50)
  line L6 (50, 50) -> (10, 50)
  line L7 (10, 50) -> (10, 68.8197)
  arc A2 (10, 68.8197) -> (-10, 68.8197) centre (0, 80) ccw
  line L8 (-10, 68.8197) -> (-10, 50)
  line L9 (-10, 50) -> (-50, 50)
  line L10 (-50, 50) -> (-50, 16.5642)
  line L11 (-50, 16.5642) -> (-69.1338, 16.5642)
  arc A3 (-69.1338, 16.5642) -> (-69.0513, -3.4358) centre (-80.2727, 6.5181) ccw
  line L12 (-69.0513, -3.4358) -> (-50, -3.4358)
  line L13 (-50, -3.4358) -> (-50, -50)
  line L14 (-50, -50) -> (-10, -50)
  line L15 (-10, -50) -> (-10, -68.8197)
  circle A4 centre (0, -80) radius 1.5
  circle A5 centre (0, 80) radius 1.5
  circle A6 centre (79.5401, 6.6988) radius 1.5
  circle A7 centre (-80.2727, 6.5181) radius 1.5
  circle A8 centre (-40, -40) radius 1.5
  circle A9 centre (-40, 40) radius 1.5
  circle A10 centre (40, -40) radius 1.5
  circle A11 centre (40, 40) radius 1.5
  line L16 (39.5, 50) -> (-39.5, 50)
  line L17 (-39.5, 50) -> (-39.5, -50)
  line L18 (-39.5, -50) -> (39.5, -50)
  line L19 (39.5, -50) -> (39.5, 50)
  line L20 (39.5, 50) -> (-39.5, -50) construction
  line L21 (-39.5, 50) -> (39.5, -50) construction
  dimension "d78" = 79
  dimension "d79" = 100
sketch "Sketch21" plane through (0, 0, 0) normal (0, -1, 0) x (1, 0, 0)
  circle A0 centre (34.5, 45) radius 1.6
  line L0 (39.5, -50) -> (39.5, 50)
  line L1 (39.5, 50) -> (-39.5, 50)
  circle A1 centre (-34.5, 45) radius 1.6
  line L2 (-39.5, 50) -> (-39.5, -50)
  circle A2 centre (34.5, -45) radius 1.6
  line L3 (-39.5, -50) -> (39.5, -50)
  circle A3 centre (-34.5, -45) radius 1.6
  point P0 (-39.5, 50)
  point P1 (39.5, 50)
  point P2 (39.5, -50)
  point P3 (-39.5, -50)
  dimension "d80" = 3.2
  dimension "d81" = 5
  dimension "d82" = 5
  dimension "d83" = 3.2
  dimension "d84" = 5
  dimension "d85" = 5
  dimension "d86" = 3.2
  dimension "d87" = 5
  dimension "d88" = 5
  dimension "d89" = 3.2
  dimension "d90" = 5
  dimension "d91" = 5
extrude "Extrude13" cut sketch "Sketch21" against normal through all contours A0 | A1 | A2 | A3
sketch "Sketch22" plane through (0, 0, 0) normal (0, 1, 0) x (1, 0, 0)
  line L0 (-19.9597, -27.3903) -> (19.9597, 27.3903) construction
  line L1 (19.9597, -27.3903) -> (-19.9597, 27.3903) construction
sketch "Sketch23" plane through (0, 0, 0) normal (0, 1, 0) x (1, 0, 0)
  circle A0 centre (0, -60) radius 10
  dimension "d93" = 20
extrude "Extrude14" add sketch "Sketch23" along normal blind 30
sketch "Sketch24" plane through (0, 0, 0) normal (0, -1, 0) x (1, 0, 0)
sketch "Sketch25" plane through (0, 0, 0) normal (0, -1, 0) x (1, 0, 0)
  circle A0 centre (0, 60) radius 10
  circle A1 centre (0, 60) radius 17.5
  dimension "d97" = 20
  dimension "d98" = 35
extrude "Extrude15" add sketch "Sketch25" along normal blind 2
sketch "Sketch26" plane through (0, -2, 0) normal (0, -1, 0) x (1, 0, 0)
  circle A0 centre (0, 60) radius 10
  circle A1 centre (0, 60) radius 17.5
sketch "Sketch27" plane through (0, 0, 0) normal (0, 1, 0) x (1, 0, 0)
  circle A0 centre (79.5185, -6.7286) radius 1.6
  line L0 (40, -3) -> (55, -3)
  arc A1 (55, -3) -> (55, 3) centre (55, 0) ccw
  line L1 (55, 3) -> (40, 3)
  arc A2 (40, 3) -> (40, -3) centre (40, 0) ccw
  line L2 (40, 0) -> (55, 0) construction
  dimension "d101" = 3.2
  dimension "d102" = 6
  dimension "d103" = 15
extrude "Extrude16" cut sketch "Sketch27" against normal through all contours L0 A1 L1 A2
sketch "Sketch28" plane through (0, 0, 0) normal (0, 1, 0) x (1, 0, 0)
  line L0 (-40, 3) -> (-55, 3)
  arc A0 (-55, 3) -> (-55, -3) centre (-55, 0) ccw
  line L1 (-55, -3) -> (-40, -3)
  arc A1 (-40, -3) -> (-40, 3) centre (-40, 0) ccw
  line L2 (-40, 0) -> (-55, 0) construction
  dimension "d105" = 6
  dimension "d106" = 15
extrude "Extrude17" cut sketch "Sketch28" against normal through all
sketch "Sketch29" plane through (0, -2, 0) normal (0, -1, 0) x (1, 0, 0)
  line L0 (3, 60) -> (3, 75)
  arc A0 (3, 75) -> (-3, 75) centre (0, 75) ccw
  line L1 (-3, 75) -> (-3, 60)
  arc A1 (-3, 60) -> (3, 60) centre (0, 60) ccw
  line L2 (0, 60) -> (0, 75) construction
  line L3 (-3, -60) -> (-3, -75)
  arc A2 (-3, -75) -> (3, -75) centre (0, -75) ccw
  line L4 (3, -75) -> (3, -60)
  arc A3 (3, -60) -> (-3, -60) centre (0, -60) ccw
  line L5 (0, -60) -> (0, -75) construction
  dimension "d108" = 6
  dimension "d109" = 15
  dimension "d110" = 6
  dimension "d111" = 15
extrude "Extrude18" cut sketch "Sketch29" against normal through all
sketch "Sketch30" plane through (0, 0, 0) normal (0, -1, 0) x (1, 0, 0)
sketch "Sketch31" plane through (0, 3, 0) normal (0, 1, 0) x (-1, 0, 0)
fillet "Fillet1" radius 2 4 edges at (50, 0, 33.2821) (50, 0, -26.7179) (-50, 0, -26.7179) (-50, 0, 33.2821)
sketch "Sketch32" plane through (0, 0, 0) normal (0, -1, 0) x (1, 0, 0)
  circle A0 centre (70.0401, -1.3012) radius 1.5
  circle A1 centre (87.5401, -2.8012) radius 1.5
  circle A2 centre (89.0401, 14.6988) radius 1.5
  circle A3 centre (71.5401, 16.1988) radius 1.5
  point P0 (79.5401, 6.6988)
  dimension "d115" = 3
  dimension "d116" = 9.5
  dimension "d117" = 8
  dimension "d119" = 360
extrude "Extrude19" cut sketch "Sketch32" against normal through all
sketch "Sketch33" plane through (0, 0, 0) normal (0, -1, 0) x (1, 0, 0)
  circle A0 centre (-70.7727, -1.4819) radius 1.5
  circle A1 centre (-89.7727, 14.5181) radius 1.5
  circle A2 centre (-72.2727, 16.0181) radius 1.5
  circle A3 centre (-88.2727, -2.9819) radius 1.5
  point P0 (-80.2727, 6.5181)
  point P1 (-72.2727, 16.0181)
  point P2 (-89.7727, 14.5181)
  point P3 (-88.2727, -2.9819)
  dimension "d121" = 3
  dimension "d122" = 9.5
  dimension "d123" = 8
  dimension "d125" = 360
  dimension "d126" = 3
  dimension "d127" = 3
  dimension "d128" = 3
extrude "Extrude20" cut sketch "Sketch33" against normal through all
sketch "Sketch34" plane through (0, -2, 0) normal (0, -1, 0) x (1, 0, 0)
  circle A0 centre (9.5, 72) radius 1.5
  circle A1 centre (-8, 70.5) radius 1.5
  circle A2 centre (-9.5, 88) radius 1.5
  circle A3 centre (8, 89.5) radius 1.5
  point P0 (0, 80)
  point P1 (8, 89.5)
  point P2 (-9.5, 88)
  point P3 (-8, 70.5)
  dimension "d130" = 3
  dimension "d131" = 8
  dimension "d132" = 9.5
  dimension "d134" = 360
  dimension "d135" = 3
  dimension "d136" = 3
  dimension "d137" = 3
extrude "Extrude21" cut sketch "Sketch34" against normal through all
sketch "Sketch35" plane through (0, 0, 0) normal (0, -1, 0) x (1, 0, 0)
  circle A0 centre (9.5, -88) radius 1.5
  circle A1 centre (-9.5, -72) radius 1.5
  circle A2 centre (8, -70.5) radius 1.5
  circle A3 centre (-8, -89.5) radius 1.5
  point P0 (0, -80)
  point P1 (8, -70.5)
  point P2 (-9.5, -72)
  point P3 (-8, -89.5)
  dimension "d139" = 3
  dimension "d140" = 8
  dimension "d141" = 9.5
  dimension "d143" = 360
  dimension "d144" = 3
  dimension "d145" = 3
  dimension "d146" = 3
extrude "Extrude22" cut sketch "Sketch35" against normal through all
sketch "Sketch36" plane through (0, 0, 0) normal (0, -1, 0) x (1, 0, 0)
  line L0 (25, 40) -> (-25, 40)
  line L1 (-25, 40) -> (-25, -40)
  line L2 (-25, -40) -> (25, -40)
  line L3 (25, -40) -> (25, 40)
  line L4 (25, 40) -> (-25, -40) construction
  line L5 (-25, 40) -> (25, -40) construction
  dimension "d148" = 50
  dimension "d149" = 80
sketch "Sketch37" plane through (0, 0, 0) normal (0, -1, 0) x (1, 0, 0)
  circle A0 centre (21.278, 35) radius 1.5
  line L0 (39.5, 50) -> (-39.5, -50)
  line L1 (25, 40) -> (-25, 40)
  circle A1 centre (-21.278, 35) radius 1.5
  line L2 (-39.5, 50) -> (39.5, -50)
  circle A2 centre (20, -35) radius 1.5
  line L3 (25, -40) -> (25, 40)
  line L4 (-25, -40) -> (25, -40)
  circle A3 centre (-20, -35) radius 1.5
  line L5 (-25, 40) -> (-25, -40)
  dimension "d150" = 3
  dimension "d151" = 5
  dimension "d152" = 5
  dimension "d153" = 3
  dimension "d154" = 5
  dimension "d155" = 5
  dimension "d156" = 3
  dimension "d157" = 5
  dimension "d158" = 5
  dimension "d159" = 3
  dimension "d160" = 5
  dimension "d161" = 5
extrude "Extrude23" cut sketch "Sketch37" against normal through all contours A0 | A1 | A2 | A3
